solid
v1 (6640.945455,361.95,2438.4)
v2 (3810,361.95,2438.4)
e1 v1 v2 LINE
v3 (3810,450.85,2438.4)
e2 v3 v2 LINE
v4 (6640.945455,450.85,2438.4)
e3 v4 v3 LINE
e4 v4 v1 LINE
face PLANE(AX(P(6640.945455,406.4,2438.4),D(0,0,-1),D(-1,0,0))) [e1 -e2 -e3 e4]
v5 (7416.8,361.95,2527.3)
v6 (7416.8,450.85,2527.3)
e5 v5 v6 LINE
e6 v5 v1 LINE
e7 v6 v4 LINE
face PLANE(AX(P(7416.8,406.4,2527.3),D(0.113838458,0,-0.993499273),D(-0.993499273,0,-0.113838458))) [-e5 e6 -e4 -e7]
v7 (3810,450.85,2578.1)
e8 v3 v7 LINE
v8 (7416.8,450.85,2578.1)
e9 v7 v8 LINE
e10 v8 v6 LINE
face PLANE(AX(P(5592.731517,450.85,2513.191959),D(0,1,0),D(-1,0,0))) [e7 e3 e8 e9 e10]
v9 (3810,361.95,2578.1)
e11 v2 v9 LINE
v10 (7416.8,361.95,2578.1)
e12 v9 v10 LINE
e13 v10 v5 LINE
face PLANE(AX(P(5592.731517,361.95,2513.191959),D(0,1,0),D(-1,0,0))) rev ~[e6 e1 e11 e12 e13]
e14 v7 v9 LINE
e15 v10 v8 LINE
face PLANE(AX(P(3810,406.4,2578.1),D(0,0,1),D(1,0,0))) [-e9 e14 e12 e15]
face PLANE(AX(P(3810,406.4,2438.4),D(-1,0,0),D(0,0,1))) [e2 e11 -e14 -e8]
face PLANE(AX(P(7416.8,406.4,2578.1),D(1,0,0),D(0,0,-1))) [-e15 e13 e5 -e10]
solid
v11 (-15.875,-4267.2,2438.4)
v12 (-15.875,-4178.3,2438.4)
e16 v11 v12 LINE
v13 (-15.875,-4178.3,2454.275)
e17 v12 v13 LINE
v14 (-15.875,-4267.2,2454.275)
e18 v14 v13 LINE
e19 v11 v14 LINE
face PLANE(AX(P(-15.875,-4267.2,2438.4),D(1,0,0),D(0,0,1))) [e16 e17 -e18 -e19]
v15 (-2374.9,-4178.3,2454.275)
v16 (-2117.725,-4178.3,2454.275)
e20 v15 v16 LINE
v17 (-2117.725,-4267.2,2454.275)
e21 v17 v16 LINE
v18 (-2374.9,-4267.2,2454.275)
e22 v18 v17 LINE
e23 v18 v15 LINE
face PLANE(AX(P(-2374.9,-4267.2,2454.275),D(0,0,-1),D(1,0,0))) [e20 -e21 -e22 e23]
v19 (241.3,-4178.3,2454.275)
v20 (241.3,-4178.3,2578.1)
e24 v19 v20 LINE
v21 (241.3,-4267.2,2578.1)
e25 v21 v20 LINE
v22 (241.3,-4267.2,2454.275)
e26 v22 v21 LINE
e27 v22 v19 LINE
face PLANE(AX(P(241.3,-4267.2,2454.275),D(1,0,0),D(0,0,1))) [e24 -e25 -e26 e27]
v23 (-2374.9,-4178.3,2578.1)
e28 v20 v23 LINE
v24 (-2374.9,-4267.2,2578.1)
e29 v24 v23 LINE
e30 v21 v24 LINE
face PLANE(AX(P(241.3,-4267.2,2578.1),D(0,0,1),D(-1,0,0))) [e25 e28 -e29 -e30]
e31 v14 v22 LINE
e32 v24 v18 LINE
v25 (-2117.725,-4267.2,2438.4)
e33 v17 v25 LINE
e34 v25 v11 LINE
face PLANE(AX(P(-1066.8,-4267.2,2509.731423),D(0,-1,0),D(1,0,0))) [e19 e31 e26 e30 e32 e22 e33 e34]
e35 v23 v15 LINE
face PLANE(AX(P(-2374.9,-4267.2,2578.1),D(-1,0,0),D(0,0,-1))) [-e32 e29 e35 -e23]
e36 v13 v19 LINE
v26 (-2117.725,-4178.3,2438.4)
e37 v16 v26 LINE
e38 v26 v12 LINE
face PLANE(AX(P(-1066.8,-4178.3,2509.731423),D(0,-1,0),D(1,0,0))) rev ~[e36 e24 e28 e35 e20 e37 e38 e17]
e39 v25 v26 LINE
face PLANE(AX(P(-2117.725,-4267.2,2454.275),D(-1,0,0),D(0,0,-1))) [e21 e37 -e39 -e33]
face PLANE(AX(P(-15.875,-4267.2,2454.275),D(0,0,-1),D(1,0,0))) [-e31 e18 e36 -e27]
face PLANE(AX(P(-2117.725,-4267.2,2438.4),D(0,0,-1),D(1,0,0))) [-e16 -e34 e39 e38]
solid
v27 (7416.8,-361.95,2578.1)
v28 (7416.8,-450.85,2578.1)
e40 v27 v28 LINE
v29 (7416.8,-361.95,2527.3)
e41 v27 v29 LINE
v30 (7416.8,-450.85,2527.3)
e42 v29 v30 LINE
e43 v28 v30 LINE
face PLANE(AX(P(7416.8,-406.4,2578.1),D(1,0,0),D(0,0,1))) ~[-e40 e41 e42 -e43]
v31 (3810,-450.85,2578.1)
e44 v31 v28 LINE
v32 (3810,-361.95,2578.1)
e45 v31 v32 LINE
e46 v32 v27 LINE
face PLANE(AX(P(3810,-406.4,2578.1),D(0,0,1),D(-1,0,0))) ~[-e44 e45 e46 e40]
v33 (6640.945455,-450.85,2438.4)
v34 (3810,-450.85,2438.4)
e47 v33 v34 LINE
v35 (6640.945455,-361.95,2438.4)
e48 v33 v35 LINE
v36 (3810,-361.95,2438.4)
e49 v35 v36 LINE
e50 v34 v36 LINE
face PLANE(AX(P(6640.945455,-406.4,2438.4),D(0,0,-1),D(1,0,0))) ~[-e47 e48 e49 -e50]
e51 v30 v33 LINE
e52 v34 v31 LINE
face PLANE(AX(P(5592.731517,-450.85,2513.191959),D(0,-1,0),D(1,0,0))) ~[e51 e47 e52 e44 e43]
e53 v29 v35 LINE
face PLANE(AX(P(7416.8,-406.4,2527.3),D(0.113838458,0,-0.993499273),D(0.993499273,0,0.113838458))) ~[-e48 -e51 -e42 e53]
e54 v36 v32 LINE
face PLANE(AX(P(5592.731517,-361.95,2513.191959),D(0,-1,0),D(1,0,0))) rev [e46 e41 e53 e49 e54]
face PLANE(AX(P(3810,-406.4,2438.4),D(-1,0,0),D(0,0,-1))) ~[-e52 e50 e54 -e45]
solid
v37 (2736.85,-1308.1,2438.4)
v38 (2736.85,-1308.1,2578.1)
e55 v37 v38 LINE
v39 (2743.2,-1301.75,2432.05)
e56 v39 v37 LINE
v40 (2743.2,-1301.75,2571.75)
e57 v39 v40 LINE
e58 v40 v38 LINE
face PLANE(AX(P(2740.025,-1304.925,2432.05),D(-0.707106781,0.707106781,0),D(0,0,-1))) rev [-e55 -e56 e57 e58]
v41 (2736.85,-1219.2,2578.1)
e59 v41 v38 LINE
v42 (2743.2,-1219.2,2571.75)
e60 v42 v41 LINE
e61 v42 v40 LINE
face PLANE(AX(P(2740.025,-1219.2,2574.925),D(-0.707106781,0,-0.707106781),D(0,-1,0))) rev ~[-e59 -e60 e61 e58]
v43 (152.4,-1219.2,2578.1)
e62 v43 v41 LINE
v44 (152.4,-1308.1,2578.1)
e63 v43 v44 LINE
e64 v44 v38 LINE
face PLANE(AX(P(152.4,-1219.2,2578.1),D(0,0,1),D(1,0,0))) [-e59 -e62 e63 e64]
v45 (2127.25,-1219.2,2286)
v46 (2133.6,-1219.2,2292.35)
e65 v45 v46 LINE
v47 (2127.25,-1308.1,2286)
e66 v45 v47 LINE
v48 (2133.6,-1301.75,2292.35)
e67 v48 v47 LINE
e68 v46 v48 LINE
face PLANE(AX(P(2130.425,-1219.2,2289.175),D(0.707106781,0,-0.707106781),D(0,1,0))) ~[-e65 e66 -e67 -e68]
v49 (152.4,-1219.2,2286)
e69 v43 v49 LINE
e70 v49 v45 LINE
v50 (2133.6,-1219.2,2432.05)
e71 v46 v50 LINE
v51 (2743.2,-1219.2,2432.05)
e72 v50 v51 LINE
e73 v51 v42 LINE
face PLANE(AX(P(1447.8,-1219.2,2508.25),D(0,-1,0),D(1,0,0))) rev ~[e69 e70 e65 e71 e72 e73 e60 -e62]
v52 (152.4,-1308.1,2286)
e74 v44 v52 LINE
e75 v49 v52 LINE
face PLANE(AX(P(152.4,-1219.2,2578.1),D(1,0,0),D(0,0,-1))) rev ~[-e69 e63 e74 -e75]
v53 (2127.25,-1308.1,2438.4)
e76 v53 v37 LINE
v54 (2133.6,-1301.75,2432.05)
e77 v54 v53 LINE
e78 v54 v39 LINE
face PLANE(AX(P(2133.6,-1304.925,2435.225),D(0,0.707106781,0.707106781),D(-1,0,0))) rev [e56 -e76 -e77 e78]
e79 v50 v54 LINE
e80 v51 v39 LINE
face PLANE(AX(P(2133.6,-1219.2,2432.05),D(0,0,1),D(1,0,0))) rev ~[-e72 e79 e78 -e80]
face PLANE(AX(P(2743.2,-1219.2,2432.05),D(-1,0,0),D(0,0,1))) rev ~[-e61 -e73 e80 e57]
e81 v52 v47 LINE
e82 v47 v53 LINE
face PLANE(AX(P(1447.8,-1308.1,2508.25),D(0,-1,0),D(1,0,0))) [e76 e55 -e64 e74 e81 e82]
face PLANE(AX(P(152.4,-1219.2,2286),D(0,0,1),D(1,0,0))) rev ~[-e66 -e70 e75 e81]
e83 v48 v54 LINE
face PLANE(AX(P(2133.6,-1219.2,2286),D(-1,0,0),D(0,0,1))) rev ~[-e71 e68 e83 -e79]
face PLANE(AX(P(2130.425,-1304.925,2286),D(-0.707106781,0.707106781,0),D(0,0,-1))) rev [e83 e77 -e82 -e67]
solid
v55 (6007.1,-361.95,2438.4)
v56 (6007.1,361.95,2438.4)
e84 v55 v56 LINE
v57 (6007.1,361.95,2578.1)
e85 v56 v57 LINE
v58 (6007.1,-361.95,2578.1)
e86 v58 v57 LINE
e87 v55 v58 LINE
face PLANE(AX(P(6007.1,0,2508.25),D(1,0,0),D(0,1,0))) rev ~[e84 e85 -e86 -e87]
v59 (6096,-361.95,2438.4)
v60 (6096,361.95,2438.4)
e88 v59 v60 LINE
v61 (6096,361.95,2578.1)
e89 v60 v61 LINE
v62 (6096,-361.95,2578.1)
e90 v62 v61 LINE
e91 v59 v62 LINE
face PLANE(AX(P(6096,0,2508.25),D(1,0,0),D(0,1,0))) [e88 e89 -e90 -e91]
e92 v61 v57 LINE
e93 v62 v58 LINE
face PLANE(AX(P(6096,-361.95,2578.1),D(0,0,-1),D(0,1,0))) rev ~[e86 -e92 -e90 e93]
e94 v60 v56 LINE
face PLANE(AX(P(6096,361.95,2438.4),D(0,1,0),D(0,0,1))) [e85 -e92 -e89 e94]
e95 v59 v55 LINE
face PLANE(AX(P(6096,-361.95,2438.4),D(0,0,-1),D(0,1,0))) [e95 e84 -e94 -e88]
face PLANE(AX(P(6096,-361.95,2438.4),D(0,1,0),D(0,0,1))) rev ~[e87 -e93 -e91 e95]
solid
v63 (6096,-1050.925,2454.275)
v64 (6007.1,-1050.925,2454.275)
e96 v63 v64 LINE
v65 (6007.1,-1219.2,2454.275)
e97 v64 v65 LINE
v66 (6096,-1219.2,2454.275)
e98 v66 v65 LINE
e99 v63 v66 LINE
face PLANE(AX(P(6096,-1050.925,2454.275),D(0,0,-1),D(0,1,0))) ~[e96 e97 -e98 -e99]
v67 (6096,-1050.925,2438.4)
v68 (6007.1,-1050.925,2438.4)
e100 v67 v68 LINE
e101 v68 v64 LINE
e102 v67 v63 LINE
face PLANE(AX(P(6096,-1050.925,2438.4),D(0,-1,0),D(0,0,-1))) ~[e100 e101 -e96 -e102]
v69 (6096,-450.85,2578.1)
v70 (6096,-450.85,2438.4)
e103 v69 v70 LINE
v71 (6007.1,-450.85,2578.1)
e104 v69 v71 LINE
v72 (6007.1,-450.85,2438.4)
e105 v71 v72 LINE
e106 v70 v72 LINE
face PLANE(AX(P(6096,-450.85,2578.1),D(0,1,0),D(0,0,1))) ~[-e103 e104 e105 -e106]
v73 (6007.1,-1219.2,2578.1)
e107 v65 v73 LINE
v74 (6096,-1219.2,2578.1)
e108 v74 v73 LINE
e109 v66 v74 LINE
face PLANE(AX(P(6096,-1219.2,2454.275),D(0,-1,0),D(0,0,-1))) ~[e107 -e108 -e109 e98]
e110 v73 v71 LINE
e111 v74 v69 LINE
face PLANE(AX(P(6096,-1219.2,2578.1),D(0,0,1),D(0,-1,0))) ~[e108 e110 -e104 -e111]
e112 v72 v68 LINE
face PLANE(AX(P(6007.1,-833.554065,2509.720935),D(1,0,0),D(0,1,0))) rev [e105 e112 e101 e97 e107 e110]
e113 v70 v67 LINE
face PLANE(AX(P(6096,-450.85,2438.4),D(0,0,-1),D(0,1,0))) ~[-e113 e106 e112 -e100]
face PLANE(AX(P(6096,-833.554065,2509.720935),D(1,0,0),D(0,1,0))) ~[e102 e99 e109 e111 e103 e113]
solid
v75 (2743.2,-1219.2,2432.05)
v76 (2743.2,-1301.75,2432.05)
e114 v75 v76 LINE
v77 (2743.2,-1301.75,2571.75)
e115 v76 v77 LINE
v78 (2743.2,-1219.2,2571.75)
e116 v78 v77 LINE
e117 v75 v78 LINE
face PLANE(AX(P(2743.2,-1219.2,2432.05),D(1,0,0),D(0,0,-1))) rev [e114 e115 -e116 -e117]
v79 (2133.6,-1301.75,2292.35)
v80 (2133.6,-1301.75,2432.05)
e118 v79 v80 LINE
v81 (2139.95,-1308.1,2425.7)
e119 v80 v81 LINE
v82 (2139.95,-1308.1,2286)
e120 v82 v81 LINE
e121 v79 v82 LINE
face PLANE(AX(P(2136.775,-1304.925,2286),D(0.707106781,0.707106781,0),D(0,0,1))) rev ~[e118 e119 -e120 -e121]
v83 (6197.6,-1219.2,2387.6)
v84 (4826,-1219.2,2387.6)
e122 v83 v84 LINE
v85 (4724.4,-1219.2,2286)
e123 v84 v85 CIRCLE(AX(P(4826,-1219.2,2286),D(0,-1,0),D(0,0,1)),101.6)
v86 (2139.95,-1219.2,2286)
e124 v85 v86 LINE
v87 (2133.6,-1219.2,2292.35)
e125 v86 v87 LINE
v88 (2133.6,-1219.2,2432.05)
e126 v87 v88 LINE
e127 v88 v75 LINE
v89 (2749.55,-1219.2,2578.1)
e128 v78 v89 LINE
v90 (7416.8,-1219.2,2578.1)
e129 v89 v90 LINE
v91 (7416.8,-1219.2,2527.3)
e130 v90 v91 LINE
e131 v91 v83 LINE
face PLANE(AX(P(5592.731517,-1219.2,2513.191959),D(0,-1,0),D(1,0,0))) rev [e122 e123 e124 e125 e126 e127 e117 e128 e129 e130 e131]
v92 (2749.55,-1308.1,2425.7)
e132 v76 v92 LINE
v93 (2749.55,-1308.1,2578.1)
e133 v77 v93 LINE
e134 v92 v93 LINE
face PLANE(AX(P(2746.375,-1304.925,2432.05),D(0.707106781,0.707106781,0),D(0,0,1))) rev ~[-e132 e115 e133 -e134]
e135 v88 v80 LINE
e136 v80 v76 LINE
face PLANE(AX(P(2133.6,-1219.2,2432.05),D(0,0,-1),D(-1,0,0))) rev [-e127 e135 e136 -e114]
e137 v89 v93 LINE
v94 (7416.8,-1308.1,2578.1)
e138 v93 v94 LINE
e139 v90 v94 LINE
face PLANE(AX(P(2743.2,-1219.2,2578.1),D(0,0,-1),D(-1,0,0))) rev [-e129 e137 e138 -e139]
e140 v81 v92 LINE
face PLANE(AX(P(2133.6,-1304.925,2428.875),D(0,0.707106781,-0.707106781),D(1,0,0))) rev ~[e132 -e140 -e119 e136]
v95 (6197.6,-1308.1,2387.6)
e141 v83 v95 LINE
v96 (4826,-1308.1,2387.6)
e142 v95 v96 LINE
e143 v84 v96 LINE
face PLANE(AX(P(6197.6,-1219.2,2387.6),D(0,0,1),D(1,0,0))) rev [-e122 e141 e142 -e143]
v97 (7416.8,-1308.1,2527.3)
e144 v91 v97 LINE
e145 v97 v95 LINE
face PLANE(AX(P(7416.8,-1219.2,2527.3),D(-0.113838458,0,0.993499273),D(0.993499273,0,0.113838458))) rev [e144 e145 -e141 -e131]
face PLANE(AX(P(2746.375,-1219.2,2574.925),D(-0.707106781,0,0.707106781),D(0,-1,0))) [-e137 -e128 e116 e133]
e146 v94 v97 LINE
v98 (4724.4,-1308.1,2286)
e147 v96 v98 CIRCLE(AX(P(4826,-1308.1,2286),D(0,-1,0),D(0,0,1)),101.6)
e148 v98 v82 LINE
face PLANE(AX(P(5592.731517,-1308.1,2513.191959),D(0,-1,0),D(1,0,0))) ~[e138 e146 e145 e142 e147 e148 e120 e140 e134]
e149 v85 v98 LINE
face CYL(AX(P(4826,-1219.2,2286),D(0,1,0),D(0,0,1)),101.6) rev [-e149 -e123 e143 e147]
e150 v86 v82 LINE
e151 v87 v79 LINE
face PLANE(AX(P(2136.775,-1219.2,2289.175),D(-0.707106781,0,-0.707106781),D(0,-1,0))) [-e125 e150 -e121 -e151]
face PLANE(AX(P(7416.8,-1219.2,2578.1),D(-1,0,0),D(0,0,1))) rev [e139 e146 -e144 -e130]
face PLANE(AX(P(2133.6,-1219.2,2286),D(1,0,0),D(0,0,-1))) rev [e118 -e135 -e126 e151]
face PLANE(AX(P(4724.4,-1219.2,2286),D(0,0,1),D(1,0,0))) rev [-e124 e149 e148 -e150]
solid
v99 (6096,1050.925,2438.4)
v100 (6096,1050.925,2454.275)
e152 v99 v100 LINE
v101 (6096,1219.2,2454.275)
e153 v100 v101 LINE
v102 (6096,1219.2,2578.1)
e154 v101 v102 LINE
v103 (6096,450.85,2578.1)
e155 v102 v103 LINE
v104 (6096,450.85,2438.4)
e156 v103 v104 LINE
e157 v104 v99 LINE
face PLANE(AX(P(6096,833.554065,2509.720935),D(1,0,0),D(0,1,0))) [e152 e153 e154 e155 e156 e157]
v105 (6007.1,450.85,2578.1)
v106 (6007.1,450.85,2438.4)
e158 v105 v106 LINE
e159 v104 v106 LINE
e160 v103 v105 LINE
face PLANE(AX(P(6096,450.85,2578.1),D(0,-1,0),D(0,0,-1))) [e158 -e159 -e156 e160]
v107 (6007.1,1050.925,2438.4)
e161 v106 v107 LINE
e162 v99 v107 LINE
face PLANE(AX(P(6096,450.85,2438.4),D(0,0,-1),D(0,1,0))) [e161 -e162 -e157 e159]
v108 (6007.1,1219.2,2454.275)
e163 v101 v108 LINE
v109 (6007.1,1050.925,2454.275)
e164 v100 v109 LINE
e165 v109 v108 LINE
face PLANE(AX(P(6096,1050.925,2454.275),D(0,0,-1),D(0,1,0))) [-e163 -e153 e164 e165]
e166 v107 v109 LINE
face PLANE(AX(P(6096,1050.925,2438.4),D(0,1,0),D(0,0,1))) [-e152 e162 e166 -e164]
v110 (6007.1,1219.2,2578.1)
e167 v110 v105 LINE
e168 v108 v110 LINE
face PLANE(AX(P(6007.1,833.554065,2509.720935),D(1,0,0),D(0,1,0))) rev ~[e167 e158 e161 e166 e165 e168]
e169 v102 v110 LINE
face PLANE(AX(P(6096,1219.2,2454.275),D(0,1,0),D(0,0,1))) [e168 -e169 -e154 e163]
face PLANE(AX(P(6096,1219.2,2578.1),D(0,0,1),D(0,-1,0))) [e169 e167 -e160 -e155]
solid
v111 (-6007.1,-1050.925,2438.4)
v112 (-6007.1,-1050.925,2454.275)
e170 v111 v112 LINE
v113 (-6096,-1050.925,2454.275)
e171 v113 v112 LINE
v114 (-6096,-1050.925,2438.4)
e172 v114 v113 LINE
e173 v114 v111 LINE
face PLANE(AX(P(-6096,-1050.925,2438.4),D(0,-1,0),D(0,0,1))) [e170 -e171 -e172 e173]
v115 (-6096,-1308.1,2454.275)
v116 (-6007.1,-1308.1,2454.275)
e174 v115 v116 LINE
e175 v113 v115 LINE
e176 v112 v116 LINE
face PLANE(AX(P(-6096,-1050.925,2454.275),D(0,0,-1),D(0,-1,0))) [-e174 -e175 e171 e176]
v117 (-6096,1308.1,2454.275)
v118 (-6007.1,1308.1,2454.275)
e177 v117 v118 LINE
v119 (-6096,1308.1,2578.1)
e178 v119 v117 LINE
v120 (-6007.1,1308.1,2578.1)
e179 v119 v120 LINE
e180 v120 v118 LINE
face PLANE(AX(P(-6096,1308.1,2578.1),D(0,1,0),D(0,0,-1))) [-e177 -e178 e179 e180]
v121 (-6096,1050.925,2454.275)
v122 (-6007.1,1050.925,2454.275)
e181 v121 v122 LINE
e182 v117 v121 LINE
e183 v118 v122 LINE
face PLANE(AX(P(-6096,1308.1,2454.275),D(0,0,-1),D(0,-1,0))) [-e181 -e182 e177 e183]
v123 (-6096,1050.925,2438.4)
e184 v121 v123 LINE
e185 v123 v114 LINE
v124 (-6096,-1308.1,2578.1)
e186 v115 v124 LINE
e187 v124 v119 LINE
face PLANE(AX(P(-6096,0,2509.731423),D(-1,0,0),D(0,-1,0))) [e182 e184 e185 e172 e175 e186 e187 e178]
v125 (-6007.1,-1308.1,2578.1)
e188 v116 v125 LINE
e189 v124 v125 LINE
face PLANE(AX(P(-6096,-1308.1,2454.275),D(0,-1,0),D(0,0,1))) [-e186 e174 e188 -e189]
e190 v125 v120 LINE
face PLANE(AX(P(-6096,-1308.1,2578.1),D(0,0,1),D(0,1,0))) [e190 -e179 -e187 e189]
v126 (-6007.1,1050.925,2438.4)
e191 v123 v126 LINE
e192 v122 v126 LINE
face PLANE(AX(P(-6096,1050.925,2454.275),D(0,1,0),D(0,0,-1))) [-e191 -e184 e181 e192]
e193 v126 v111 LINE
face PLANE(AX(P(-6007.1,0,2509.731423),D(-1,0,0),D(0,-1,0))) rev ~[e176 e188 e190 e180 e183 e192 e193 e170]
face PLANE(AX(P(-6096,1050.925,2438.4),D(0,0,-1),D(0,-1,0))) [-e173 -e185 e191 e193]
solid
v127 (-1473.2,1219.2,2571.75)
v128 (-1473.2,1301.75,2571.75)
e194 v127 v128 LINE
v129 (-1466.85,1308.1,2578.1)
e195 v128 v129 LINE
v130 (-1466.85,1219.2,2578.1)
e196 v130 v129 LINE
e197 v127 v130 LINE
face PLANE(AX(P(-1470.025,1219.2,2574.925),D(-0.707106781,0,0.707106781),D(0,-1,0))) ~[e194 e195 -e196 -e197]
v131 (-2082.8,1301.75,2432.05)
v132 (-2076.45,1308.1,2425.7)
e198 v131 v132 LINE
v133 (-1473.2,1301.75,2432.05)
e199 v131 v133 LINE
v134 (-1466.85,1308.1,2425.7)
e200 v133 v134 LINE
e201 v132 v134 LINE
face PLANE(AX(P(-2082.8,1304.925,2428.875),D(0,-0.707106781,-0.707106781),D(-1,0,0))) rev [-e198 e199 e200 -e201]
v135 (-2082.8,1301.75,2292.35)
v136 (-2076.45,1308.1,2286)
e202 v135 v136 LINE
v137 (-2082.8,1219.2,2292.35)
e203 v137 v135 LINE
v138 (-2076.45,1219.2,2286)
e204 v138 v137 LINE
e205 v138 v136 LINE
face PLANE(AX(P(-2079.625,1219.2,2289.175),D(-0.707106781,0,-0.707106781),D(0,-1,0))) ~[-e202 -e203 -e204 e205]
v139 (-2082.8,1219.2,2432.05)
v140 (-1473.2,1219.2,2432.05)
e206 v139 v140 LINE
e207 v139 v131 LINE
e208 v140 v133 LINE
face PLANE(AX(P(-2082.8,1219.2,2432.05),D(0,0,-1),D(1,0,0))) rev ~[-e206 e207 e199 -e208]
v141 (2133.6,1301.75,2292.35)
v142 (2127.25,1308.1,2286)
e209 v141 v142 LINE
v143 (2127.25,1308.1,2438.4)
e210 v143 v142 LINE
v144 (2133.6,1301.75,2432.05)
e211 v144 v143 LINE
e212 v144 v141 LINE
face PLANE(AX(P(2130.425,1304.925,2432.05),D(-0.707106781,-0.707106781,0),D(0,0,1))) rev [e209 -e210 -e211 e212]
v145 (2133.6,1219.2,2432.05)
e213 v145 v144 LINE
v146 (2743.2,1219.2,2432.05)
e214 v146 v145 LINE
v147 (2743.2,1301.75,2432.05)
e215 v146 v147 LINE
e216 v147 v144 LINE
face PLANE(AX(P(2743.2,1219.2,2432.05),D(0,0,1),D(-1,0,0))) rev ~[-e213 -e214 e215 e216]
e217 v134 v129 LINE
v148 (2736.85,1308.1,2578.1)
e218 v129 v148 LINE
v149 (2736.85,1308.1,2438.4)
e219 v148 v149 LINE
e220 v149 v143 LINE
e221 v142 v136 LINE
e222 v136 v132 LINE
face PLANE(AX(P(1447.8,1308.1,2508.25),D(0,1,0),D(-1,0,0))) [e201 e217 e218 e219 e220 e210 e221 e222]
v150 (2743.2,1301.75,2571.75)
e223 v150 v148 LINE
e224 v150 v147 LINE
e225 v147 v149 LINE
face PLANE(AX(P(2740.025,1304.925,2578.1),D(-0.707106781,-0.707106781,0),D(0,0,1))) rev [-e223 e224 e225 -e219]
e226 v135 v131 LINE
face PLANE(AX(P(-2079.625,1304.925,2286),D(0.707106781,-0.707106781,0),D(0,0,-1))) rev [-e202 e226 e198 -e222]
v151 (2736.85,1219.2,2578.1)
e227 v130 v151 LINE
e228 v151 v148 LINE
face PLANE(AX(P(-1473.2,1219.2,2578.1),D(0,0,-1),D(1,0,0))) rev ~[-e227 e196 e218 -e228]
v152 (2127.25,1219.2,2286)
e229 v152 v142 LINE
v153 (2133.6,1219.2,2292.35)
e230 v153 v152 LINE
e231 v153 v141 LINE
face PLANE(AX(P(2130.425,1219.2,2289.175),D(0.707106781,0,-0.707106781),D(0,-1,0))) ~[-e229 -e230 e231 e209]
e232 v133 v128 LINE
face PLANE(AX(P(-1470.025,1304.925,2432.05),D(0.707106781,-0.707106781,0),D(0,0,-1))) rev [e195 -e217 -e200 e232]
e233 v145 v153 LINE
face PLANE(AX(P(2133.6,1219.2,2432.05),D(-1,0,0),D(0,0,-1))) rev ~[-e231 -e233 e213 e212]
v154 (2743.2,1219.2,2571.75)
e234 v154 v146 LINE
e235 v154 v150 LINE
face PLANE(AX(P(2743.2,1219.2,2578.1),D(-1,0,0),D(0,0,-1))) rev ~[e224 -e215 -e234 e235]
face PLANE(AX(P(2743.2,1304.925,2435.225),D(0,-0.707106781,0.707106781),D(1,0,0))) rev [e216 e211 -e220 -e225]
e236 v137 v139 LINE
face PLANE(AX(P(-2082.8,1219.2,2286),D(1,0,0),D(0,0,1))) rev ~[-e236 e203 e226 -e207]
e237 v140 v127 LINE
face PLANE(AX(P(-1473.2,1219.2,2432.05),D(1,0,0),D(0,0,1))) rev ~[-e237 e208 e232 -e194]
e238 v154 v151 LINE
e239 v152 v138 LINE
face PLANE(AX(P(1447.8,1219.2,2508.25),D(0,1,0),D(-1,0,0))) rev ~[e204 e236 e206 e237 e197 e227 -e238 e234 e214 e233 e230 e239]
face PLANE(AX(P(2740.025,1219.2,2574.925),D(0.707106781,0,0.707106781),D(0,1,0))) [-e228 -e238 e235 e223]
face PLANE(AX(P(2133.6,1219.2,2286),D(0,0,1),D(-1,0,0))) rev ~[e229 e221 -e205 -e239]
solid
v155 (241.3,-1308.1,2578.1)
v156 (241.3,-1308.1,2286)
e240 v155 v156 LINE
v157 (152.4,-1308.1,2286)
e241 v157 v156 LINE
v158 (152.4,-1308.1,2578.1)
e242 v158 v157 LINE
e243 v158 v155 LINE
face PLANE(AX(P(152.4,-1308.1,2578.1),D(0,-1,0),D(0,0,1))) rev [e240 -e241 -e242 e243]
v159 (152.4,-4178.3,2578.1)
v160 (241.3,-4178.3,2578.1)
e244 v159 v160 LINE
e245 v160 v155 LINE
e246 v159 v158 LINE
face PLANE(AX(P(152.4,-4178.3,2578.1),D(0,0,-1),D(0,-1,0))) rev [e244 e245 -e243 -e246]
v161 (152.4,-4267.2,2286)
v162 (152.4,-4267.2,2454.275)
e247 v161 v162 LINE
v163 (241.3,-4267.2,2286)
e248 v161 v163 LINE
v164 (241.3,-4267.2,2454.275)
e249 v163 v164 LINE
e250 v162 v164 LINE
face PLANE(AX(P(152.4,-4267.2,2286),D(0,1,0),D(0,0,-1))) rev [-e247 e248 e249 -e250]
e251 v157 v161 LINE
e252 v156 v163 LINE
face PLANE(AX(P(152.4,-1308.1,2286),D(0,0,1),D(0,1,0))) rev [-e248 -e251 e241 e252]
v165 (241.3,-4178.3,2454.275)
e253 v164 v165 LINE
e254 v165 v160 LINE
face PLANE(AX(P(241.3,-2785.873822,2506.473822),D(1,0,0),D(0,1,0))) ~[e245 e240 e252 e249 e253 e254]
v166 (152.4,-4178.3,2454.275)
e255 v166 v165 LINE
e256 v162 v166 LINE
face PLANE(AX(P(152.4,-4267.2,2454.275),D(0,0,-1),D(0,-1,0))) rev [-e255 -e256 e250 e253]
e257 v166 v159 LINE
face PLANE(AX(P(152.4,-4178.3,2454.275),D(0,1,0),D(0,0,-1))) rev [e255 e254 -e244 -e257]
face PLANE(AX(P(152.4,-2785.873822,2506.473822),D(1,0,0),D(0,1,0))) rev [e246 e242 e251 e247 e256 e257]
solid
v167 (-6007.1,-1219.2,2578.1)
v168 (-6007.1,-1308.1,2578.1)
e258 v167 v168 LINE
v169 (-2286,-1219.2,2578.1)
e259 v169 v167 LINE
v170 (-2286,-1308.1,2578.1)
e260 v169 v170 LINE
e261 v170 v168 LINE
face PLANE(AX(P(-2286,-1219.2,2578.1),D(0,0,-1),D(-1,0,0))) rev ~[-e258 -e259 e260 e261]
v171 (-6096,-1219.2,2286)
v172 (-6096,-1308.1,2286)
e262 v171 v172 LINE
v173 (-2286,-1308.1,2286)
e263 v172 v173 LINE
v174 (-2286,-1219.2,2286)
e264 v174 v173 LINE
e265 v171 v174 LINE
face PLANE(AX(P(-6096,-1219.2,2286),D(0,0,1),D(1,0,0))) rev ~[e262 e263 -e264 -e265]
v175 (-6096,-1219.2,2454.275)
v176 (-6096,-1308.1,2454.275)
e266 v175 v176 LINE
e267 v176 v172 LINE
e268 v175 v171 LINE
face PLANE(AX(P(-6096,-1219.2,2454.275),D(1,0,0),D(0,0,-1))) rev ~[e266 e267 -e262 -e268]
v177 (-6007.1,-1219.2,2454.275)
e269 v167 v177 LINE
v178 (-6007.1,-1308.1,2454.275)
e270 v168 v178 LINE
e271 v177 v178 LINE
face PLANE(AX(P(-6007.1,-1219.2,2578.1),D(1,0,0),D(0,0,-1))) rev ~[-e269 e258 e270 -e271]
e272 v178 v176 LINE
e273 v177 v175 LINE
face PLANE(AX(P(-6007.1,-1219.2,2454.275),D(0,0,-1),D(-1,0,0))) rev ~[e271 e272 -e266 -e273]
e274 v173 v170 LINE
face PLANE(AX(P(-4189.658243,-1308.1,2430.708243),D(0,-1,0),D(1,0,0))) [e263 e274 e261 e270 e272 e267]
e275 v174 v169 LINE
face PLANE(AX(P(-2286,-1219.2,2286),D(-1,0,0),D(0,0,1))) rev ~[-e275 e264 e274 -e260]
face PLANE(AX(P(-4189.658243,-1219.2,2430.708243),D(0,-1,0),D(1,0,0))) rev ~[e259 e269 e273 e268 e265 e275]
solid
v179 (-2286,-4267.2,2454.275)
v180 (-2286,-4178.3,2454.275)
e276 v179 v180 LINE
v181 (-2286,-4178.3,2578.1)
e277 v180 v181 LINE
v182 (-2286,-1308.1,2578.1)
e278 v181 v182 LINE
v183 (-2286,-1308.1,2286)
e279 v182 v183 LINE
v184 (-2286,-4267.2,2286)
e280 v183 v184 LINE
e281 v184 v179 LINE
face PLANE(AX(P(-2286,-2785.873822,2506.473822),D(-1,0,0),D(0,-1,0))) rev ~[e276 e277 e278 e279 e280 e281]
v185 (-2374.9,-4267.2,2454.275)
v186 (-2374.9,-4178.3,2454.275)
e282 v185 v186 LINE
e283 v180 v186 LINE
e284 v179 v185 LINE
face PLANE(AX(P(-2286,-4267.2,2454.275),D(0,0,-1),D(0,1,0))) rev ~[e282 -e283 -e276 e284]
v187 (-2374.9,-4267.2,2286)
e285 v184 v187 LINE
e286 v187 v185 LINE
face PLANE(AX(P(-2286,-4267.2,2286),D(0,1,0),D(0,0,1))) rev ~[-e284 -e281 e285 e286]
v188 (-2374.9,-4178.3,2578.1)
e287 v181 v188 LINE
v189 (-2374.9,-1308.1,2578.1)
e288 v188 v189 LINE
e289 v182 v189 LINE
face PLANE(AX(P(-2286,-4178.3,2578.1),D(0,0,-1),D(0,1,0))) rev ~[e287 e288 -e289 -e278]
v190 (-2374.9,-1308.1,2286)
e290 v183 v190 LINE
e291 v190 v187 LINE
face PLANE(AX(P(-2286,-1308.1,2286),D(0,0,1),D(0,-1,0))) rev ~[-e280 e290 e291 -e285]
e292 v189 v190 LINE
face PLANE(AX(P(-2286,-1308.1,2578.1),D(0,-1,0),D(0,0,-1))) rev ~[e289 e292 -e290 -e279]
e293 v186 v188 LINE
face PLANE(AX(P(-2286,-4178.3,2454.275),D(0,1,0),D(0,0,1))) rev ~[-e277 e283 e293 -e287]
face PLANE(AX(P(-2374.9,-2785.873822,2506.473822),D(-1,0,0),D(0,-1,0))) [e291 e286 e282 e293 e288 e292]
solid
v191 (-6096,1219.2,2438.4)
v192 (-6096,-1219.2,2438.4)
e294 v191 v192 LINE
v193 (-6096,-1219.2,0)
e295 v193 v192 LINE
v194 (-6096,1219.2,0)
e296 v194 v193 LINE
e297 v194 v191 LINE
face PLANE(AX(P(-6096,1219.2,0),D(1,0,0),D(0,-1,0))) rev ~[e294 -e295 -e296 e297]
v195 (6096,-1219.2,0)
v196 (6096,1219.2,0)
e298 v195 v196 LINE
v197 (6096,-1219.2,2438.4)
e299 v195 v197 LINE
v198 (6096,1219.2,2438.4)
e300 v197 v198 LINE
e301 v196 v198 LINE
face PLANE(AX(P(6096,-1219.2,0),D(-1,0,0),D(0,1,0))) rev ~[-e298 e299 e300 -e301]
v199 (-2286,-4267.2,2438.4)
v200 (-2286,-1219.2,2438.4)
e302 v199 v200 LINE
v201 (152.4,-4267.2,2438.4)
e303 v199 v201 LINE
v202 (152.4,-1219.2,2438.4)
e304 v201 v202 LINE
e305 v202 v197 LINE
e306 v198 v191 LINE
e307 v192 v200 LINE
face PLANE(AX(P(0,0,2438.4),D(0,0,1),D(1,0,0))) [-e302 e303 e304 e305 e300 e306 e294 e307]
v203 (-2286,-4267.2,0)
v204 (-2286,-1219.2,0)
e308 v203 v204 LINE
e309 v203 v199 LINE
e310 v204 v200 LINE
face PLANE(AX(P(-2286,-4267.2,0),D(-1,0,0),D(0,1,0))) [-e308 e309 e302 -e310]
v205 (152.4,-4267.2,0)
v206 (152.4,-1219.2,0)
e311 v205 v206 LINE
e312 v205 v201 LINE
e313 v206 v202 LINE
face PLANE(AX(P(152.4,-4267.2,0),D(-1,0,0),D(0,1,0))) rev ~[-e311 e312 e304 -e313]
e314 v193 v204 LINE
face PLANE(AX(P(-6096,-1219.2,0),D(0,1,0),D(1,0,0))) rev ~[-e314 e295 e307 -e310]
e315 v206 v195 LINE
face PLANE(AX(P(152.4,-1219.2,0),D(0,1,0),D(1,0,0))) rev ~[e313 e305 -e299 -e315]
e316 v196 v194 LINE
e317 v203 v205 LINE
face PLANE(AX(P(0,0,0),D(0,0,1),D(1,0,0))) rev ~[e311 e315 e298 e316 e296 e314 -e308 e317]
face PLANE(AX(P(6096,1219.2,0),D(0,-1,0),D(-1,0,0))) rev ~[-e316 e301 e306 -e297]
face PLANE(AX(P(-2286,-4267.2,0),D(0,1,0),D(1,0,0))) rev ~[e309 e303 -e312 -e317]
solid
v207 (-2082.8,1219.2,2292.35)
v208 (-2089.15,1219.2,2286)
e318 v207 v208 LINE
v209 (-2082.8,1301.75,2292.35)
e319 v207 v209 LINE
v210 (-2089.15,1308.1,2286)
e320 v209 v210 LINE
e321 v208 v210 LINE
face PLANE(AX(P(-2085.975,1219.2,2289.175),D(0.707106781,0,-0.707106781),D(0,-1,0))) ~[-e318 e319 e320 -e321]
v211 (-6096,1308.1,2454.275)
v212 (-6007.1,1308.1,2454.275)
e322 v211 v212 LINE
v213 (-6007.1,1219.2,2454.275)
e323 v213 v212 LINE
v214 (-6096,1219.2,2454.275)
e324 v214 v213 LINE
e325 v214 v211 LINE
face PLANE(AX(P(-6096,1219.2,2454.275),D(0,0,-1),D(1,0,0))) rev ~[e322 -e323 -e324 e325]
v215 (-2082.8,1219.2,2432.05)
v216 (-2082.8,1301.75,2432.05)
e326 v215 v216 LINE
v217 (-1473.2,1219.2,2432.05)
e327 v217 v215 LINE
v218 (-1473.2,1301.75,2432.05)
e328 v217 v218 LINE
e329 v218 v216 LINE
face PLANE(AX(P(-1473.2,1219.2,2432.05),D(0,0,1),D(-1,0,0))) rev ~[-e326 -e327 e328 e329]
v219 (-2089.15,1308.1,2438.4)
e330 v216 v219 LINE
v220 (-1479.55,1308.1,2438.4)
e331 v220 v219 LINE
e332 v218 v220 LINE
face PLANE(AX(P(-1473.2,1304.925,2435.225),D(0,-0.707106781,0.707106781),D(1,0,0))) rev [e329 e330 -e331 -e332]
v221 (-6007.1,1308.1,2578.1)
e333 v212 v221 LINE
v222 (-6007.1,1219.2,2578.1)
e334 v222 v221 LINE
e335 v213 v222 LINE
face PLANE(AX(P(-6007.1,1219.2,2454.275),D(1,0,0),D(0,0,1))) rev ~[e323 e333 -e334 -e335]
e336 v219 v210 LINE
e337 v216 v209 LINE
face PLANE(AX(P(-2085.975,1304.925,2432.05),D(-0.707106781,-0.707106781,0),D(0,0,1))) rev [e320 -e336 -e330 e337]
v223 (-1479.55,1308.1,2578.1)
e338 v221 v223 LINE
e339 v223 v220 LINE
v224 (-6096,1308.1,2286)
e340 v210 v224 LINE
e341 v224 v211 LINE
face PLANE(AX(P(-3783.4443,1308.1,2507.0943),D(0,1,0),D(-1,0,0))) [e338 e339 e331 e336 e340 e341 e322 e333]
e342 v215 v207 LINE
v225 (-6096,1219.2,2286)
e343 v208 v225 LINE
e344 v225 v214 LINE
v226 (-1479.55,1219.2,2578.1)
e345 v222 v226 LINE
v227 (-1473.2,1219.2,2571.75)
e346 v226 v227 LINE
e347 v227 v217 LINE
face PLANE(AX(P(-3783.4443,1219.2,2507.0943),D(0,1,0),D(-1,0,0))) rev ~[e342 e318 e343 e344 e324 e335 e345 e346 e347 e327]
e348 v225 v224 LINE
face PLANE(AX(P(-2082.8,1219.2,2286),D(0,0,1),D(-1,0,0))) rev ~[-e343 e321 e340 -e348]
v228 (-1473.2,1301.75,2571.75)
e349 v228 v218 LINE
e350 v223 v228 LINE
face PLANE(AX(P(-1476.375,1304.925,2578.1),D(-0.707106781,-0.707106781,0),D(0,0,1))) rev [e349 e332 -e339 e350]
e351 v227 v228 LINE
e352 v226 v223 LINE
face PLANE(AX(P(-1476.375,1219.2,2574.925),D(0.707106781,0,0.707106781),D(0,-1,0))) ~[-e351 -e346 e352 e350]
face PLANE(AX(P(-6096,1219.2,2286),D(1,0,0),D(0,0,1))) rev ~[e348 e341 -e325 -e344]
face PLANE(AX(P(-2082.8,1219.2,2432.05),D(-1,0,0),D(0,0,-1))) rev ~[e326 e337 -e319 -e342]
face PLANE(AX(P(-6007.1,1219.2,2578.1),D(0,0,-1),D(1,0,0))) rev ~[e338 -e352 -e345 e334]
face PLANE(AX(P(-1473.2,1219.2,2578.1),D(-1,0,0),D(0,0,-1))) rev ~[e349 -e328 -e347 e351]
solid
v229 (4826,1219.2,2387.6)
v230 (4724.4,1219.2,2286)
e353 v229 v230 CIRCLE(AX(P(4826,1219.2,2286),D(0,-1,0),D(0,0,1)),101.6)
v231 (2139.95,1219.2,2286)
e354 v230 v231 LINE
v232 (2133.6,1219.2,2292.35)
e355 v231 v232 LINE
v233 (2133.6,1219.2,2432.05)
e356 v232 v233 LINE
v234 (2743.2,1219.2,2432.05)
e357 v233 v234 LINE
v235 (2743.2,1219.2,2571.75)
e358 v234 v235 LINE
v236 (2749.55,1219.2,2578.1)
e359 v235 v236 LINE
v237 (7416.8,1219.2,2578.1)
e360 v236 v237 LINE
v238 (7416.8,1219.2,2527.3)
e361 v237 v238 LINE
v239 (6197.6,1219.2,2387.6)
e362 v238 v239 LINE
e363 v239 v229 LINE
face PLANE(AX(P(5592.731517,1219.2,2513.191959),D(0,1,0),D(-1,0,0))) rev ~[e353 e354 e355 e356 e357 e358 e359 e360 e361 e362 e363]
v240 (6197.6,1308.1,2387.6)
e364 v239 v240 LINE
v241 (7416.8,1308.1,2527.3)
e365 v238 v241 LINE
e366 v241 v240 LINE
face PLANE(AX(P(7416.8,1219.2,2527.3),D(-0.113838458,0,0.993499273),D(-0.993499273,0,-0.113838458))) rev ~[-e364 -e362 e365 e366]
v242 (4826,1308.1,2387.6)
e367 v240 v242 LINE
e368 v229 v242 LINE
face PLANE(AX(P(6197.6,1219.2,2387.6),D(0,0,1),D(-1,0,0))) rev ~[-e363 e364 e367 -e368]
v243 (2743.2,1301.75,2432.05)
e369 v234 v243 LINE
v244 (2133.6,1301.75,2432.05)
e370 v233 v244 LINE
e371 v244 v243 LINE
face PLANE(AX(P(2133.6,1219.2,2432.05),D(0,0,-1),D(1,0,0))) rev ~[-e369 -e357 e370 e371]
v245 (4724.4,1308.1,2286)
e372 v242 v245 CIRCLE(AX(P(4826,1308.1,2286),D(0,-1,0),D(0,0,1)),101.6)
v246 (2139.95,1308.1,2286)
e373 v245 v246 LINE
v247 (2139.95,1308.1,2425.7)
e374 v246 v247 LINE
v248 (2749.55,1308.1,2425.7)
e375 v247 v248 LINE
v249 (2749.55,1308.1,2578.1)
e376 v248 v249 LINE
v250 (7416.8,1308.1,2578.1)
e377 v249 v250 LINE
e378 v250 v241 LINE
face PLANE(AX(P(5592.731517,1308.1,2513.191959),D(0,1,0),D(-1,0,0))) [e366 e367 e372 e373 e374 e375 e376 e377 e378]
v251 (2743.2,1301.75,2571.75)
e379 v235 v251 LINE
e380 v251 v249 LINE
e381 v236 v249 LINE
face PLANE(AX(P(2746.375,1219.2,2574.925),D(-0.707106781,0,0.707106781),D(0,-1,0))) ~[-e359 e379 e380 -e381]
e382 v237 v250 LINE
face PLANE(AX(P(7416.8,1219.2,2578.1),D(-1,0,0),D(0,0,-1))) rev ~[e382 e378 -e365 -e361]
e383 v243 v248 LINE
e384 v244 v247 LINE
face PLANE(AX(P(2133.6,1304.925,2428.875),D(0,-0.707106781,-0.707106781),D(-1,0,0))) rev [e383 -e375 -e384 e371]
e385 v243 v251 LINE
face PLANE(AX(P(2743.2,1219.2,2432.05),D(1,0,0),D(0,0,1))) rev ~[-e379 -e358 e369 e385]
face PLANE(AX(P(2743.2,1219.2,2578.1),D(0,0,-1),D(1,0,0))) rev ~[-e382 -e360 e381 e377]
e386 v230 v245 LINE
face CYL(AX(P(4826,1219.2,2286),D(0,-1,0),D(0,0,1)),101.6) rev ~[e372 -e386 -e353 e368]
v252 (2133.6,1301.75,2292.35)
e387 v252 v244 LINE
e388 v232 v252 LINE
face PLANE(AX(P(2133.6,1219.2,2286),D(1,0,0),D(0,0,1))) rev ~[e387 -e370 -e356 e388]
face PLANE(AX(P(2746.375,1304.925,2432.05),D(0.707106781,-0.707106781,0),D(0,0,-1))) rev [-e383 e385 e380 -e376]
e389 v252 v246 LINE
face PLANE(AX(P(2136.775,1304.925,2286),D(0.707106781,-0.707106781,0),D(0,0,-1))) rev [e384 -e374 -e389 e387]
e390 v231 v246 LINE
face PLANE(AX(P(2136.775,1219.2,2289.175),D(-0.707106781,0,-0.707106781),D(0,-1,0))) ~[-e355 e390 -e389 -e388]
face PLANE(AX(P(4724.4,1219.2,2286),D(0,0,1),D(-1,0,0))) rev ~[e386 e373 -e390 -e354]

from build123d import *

# Parameters (mm, degrees)
F0_W       = 2438.4
F0_H       = 3048
F1_DEPTH   = 2438.4
F2_W       = 1066.8
F2_H       = 139.7
F3_DEPTH   = 88.9
F2_W_2     = 2590.8
F2_W_3     = 1625.6
F4_DEPTH   = 88.9
F5_DEPTH   = 88.9
F6_W       = 2590.8
F6_H       = 139.7
F7_DEPTH   = 88.9
F8_DEPTH   = 88.9
F11_DEPTH  = 44.45
F13_DEPTH  = 88.9
F14_W      = 2959.1
F14_H      = 152.4
F15_DEPTH  = 88.9
F19_DEPTH  = 88.9
F22_DEPTH  = 88.9
F24_W      = 723.9
F24_H      = 139.7
F25_DEPTH  = 88.9
F26_SIZE   = 6.35
F26_2_SIZE = 6.35
F26_3_SIZE = 6.35
F27_SIZE   = 6.35
F27_2_SIZE = 6.35


with BuildPart() as f1:
    # F0 (on Top) → F1 (new body)
    with BuildSketch(Plane.XY):
        Polygon((6096, 1219.2), (-6096, 1219.2), (-6096, -1219.2), (-2286, -1219.2), (152.4, -1219.2), (6096, -1219.2), align=None)
        with Locations((-1066.8, -2743.2)):
            Rectangle(F0_W, F0_H)
    extrude(amount=F1_DEPTH)


with BuildPart() as f3:
    # F2 (on face) → F3 (new body)
    with BuildSketch(Plane(origin=(0, 1219.2, 0), x_dir=(-1, 0, 0), z_dir=(0, 1, 0))):
        Polygon((-3810, 2578.1), (-7416.8, 2578.1), (-7416.8, 2527.3), (-6640.9454545455, 2438.4), (-6096, 2438.4), (-3810, 2438.4), align=None)
        with Locations((-3276.6, 2508.25)):
            Rectangle(F2_W, F2_H)
        with BuildLine():
            Line((-2743.2, 2438.4), (-3810, 2438.4))
            Line((-3810, 2438.4), (-6096, 2438.4))
            Line((-6096, 2438.4), (-6096, 2387.6))
            Line((-6096, 2387.6), (-4826, 2387.6))
            ThreePointArc((-4826, 2387.6), (-4754.1579510314, 2357.8420489686), (-4724.4, 2286))
            Line((-4724.4, 2286), (-2133.6, 2286))
            Line((-2133.6, 2286), (-2133.6, 2432.05))
            Line((-2133.6, 2432.05), (-2743.2, 2432.05))
            Line((-2743.2, 2432.05), (-2743.2, 2438.4))
        make_face()
        Polygon((-6096, 2438.4), (-6640.9454545455, 2438.4), (-6197.6, 2387.6), (-6096, 2387.6), align=None)
    extrude(amount=F3_DEPTH)


with BuildPart() as f4:
    # F2 (on face) → F4 (new body)
    with BuildSketch(Plane(origin=(0, 1219.2, 0), x_dir=(-1, 0, 0), z_dir=(0, 1, 0))):
        with Locations((-1447.8, 2508.25)):
            Rectangle(F2_W_2, F2_H)
        with Locations((660.4, 2508.25)):
            Rectangle(F2_W_3, F2_H)
        Polygon((1473.2, 2438.4), (-152.4, 2438.4), (-152.4, 2286), (2082.8, 2286), (2082.8, 2432.05), (1473.2, 2432.05), align=None)
        Polygon((-152.4, 2438.4), (-2743.2, 2438.4), (-2743.2, 2432.05), (-2133.6, 2432.05), (-2133.6, 2286), (-152.4, 2286), align=None)
    extrude(amount=F4_DEPTH)

    # F27#2
    f27_2_edges = [f4.edges().sort_by_distance(p)[0] for p in [
        (2743.2, 1308.1, 2505.075),
        (2743.2, 1263.65, 2578.1),
        (2438.4, 1308.1, 2432.05),
        (2133.6, 1308.1, 2359.025),
        (2133.6, 1263.65, 2286),
        (-1473.2, 1263.65, 2578.1),
        (-1473.2, 1308.1, 2505.075),
        (-1778, 1308.1, 2432.05),
        (-2082.8, 1308.1, 2359.025),
        (-2082.8, 1263.65, 2286),
    ]]
    chamfer(f27_2_edges, length=F27_2_SIZE)


with BuildPart() as f5:
    # F2 (on face) → F5 (new body)
    with BuildSketch(Plane(origin=(0, 1219.2, 0), x_dir=(-1, 0, 0), z_dir=(0, 1, 0))):
        Polygon((6007.1, 2578.1), (1473.2, 2578.1), (1473.2, 2438.4), (6096, 2438.4), (6096, 2454.275), (6007.1, 2454.275), align=None)
        Polygon((6096, 2438.4), (1473.2, 2438.4), (1473.2, 2432.05), (2082.8, 2432.05), (2082.8, 2286), (6096, 2286), align=None)
    extrude(amount=F5_DEPTH)

    # F26#2
    f26_2_edges = [f5.edges().sort_by_distance(p)[0] for p in [
        (-1473.2, 1263.65, 2578.1),
        (-1473.2, 1308.1, 2505.075),
        (-1778, 1308.1, 2432.05),
        (-2082.8, 1308.1, 2359.025),
        (-2082.8, 1263.65, 2286),
    ]]
    chamfer(f26_2_edges, length=F26_2_SIZE)


with BuildPart() as f7:
    # F6 (on face) → F7 (new body)
    with BuildSketch(Plane.XZ.offset(1219.2)):
        with Locations((1447.8, 2508.25)):
            Rectangle(F6_W, F6_H)
        Polygon((2743.2, 2432.05), (2743.2, 2438.4), (152.4, 2438.4), (152.4, 2286), (2133.6, 2286), (2133.6, 2432.05), align=None)
    extrude(amount=F7_DEPTH)

    # F26#3
    f26_3_edges = [f7.edges().sort_by_distance(p)[0] for p in [
        (2133.6, -1308.1, 2359.025),
        (2438.4, -1308.1, 2432.05),
        (2743.2, -1308.1, 2505.075),
        (2743.2, -1263.65, 2578.1),
        (2133.6, -1263.65, 2286),
    ]]
    chamfer(f26_3_edges, length=F26_3_SIZE)


with BuildPart() as f8:
    # F6 (on face) → F8 (new body)
    with BuildSketch(Plane.XZ.offset(1219.2)):
        Polygon((-2286, 2286), (-2286, 2578.1), (-6007.1, 2578.1), (-6007.1, 2454.275), (-6096, 2454.275), (-6096, 2286), align=None)
    extrude(amount=F8_DEPTH)


with BuildPart() as f11:
    # F10 (on offset) → F11 (new body, symmetric)
    with BuildSketch(Plane(origin=(0, 406.4, 0), x_dir=(-1, 0, 0), z_dir=(0, 1, 0))):
        Polygon((-3810, 2578.1), (-7416.8, 2578.1), (-7416.8, 2527.3), (-6640.9454545455, 2438.4), (-3810, 2438.4), align=None)
    extrude(amount=F11_DEPTH, both=True)


with BuildPart() as f13:
    # F12 (on face) → F13 (new body)
    with BuildSketch(Plane(origin=(-6096, 0, 0), x_dir=(0, -1, 0), z_dir=(-1, 0, 0))):
        Polygon((1308.1, 2578.1), (-1308.1, 2578.1), (-1308.1, 2454.275), (-1050.925, 2454.275), (-1050.925, 2438.4), (1050.925, 2438.4), (1050.925, 2454.275), (1308.1, 2454.275), align=None)
    extrude(amount=-F13_DEPTH)


with BuildPart() as f15:
    # F14 (on face) → F15 (new body)
    with BuildSketch(Plane(origin=(-2286, 0, 0), x_dir=(0, -1, 0), z_dir=(-1, 0, 0))):
        Polygon((4178.3, 2578.1), (1308.1, 2578.1), (1308.1, 2438.4), (4267.2, 2438.4), (4267.2, 2454.275), (4178.3, 2454.275), align=None)
        with Locations((2787.65, 2362.2)):
            Rectangle(F14_W, F14_H)
    extrude(amount=F15_DEPTH)


with BuildPart() as f17_1:
    # F17: instance of F15
    add(f15.part.mirror(Plane(origin=(-1066.8, -2743.2, 1219.2), x_dir=(0, -1, 0), z_dir=(-1, 0, 0))))


with BuildPart() as f19:
    # F18 (on face) → F19 (new body)
    with BuildSketch(Plane.XZ.offset(4267.2)):
        Polygon((241.3, 2578.1), (-2374.9, 2578.1), (-2374.9, 2454.275), (-2117.725, 2454.275), (-2117.725, 2438.4), (-15.875, 2438.4), (-15.875, 2454.275), (241.3, 2454.275), align=None)
    extrude(amount=-F19_DEPTH)


with BuildPart() as f22:
    # F21 (on face) → F22 (new body)
    with BuildSketch(Plane.YZ.offset(6096)):
        Polygon((1219.2, 2454.275), (1219.2, 2578.1), (450.85, 2578.1), (450.85, 2438.4), (1050.925, 2438.4), (1050.925, 2454.275), align=None)
    extrude(amount=-F22_DEPTH)


with BuildPart() as f23_1:
    # F23: instance of F3
    add(f3.part.mirror(Plane(origin=(1562.1, 0, 609.6), x_dir=(1, 0, 0), z_dir=(0, -1, 0))))

    # F27
    f27_edges = [f23_1.edges().sort_by_distance(p)[0] for p in [
        (2743.2, -1308.1, 2505.075),
        (2438.4, -1308.1, 2432.05),
        (2743.2, -1263.65, 2578.1),
        (2133.6, -1308.1, 2359.025),
        (2133.6, -1263.65, 2286),
    ]]
    chamfer(f27_edges, length=F27_SIZE)


with BuildPart() as f23_2:
    # F23: instance of F22
    add(f22.part.mirror(Plane(origin=(1562.1, 0, 609.6), x_dir=(1, 0, 0), z_dir=(0, -1, 0))))


with BuildPart() as f23_3:
    # F23: instance of F11
    add(f11.part.mirror(Plane(origin=(1562.1, 0, 609.6), x_dir=(1, 0, 0), z_dir=(0, -1, 0))))


with BuildPart() as f25:
    # F24 (on face) → F25 (new body)
    with BuildSketch(Plane.YZ.offset(6096)):
        with Locations((0, 2508.25)):
            Rectangle(F24_W, F24_H)
    extrude(amount=-F25_DEPTH)


with BuildPart() as f3_1:
    add(f3.part)

    # F26
    f26_edges = [f3_1.edges().sort_by_distance(p)[0] for p in [
        (2743.2, 1263.65, 2578.1),
        (2743.2, 1308.1, 2505.075),
        (2438.4, 1308.1, 2432.05),
        (2133.6, 1308.1, 2359.025),
        (2133.6, 1263.65, 2286),
    ]]
    chamfer(f26_edges, length=F26_SIZE)


solid = Compound([f1.part, f4.part, f5.part, f7.part, f8.part, f11.part, f13.part, f15.part, f17_1.part, f19.part, f22.part, f23_1.part, f23_2.part, f23_3.part, f25.part, f3_1.part])
